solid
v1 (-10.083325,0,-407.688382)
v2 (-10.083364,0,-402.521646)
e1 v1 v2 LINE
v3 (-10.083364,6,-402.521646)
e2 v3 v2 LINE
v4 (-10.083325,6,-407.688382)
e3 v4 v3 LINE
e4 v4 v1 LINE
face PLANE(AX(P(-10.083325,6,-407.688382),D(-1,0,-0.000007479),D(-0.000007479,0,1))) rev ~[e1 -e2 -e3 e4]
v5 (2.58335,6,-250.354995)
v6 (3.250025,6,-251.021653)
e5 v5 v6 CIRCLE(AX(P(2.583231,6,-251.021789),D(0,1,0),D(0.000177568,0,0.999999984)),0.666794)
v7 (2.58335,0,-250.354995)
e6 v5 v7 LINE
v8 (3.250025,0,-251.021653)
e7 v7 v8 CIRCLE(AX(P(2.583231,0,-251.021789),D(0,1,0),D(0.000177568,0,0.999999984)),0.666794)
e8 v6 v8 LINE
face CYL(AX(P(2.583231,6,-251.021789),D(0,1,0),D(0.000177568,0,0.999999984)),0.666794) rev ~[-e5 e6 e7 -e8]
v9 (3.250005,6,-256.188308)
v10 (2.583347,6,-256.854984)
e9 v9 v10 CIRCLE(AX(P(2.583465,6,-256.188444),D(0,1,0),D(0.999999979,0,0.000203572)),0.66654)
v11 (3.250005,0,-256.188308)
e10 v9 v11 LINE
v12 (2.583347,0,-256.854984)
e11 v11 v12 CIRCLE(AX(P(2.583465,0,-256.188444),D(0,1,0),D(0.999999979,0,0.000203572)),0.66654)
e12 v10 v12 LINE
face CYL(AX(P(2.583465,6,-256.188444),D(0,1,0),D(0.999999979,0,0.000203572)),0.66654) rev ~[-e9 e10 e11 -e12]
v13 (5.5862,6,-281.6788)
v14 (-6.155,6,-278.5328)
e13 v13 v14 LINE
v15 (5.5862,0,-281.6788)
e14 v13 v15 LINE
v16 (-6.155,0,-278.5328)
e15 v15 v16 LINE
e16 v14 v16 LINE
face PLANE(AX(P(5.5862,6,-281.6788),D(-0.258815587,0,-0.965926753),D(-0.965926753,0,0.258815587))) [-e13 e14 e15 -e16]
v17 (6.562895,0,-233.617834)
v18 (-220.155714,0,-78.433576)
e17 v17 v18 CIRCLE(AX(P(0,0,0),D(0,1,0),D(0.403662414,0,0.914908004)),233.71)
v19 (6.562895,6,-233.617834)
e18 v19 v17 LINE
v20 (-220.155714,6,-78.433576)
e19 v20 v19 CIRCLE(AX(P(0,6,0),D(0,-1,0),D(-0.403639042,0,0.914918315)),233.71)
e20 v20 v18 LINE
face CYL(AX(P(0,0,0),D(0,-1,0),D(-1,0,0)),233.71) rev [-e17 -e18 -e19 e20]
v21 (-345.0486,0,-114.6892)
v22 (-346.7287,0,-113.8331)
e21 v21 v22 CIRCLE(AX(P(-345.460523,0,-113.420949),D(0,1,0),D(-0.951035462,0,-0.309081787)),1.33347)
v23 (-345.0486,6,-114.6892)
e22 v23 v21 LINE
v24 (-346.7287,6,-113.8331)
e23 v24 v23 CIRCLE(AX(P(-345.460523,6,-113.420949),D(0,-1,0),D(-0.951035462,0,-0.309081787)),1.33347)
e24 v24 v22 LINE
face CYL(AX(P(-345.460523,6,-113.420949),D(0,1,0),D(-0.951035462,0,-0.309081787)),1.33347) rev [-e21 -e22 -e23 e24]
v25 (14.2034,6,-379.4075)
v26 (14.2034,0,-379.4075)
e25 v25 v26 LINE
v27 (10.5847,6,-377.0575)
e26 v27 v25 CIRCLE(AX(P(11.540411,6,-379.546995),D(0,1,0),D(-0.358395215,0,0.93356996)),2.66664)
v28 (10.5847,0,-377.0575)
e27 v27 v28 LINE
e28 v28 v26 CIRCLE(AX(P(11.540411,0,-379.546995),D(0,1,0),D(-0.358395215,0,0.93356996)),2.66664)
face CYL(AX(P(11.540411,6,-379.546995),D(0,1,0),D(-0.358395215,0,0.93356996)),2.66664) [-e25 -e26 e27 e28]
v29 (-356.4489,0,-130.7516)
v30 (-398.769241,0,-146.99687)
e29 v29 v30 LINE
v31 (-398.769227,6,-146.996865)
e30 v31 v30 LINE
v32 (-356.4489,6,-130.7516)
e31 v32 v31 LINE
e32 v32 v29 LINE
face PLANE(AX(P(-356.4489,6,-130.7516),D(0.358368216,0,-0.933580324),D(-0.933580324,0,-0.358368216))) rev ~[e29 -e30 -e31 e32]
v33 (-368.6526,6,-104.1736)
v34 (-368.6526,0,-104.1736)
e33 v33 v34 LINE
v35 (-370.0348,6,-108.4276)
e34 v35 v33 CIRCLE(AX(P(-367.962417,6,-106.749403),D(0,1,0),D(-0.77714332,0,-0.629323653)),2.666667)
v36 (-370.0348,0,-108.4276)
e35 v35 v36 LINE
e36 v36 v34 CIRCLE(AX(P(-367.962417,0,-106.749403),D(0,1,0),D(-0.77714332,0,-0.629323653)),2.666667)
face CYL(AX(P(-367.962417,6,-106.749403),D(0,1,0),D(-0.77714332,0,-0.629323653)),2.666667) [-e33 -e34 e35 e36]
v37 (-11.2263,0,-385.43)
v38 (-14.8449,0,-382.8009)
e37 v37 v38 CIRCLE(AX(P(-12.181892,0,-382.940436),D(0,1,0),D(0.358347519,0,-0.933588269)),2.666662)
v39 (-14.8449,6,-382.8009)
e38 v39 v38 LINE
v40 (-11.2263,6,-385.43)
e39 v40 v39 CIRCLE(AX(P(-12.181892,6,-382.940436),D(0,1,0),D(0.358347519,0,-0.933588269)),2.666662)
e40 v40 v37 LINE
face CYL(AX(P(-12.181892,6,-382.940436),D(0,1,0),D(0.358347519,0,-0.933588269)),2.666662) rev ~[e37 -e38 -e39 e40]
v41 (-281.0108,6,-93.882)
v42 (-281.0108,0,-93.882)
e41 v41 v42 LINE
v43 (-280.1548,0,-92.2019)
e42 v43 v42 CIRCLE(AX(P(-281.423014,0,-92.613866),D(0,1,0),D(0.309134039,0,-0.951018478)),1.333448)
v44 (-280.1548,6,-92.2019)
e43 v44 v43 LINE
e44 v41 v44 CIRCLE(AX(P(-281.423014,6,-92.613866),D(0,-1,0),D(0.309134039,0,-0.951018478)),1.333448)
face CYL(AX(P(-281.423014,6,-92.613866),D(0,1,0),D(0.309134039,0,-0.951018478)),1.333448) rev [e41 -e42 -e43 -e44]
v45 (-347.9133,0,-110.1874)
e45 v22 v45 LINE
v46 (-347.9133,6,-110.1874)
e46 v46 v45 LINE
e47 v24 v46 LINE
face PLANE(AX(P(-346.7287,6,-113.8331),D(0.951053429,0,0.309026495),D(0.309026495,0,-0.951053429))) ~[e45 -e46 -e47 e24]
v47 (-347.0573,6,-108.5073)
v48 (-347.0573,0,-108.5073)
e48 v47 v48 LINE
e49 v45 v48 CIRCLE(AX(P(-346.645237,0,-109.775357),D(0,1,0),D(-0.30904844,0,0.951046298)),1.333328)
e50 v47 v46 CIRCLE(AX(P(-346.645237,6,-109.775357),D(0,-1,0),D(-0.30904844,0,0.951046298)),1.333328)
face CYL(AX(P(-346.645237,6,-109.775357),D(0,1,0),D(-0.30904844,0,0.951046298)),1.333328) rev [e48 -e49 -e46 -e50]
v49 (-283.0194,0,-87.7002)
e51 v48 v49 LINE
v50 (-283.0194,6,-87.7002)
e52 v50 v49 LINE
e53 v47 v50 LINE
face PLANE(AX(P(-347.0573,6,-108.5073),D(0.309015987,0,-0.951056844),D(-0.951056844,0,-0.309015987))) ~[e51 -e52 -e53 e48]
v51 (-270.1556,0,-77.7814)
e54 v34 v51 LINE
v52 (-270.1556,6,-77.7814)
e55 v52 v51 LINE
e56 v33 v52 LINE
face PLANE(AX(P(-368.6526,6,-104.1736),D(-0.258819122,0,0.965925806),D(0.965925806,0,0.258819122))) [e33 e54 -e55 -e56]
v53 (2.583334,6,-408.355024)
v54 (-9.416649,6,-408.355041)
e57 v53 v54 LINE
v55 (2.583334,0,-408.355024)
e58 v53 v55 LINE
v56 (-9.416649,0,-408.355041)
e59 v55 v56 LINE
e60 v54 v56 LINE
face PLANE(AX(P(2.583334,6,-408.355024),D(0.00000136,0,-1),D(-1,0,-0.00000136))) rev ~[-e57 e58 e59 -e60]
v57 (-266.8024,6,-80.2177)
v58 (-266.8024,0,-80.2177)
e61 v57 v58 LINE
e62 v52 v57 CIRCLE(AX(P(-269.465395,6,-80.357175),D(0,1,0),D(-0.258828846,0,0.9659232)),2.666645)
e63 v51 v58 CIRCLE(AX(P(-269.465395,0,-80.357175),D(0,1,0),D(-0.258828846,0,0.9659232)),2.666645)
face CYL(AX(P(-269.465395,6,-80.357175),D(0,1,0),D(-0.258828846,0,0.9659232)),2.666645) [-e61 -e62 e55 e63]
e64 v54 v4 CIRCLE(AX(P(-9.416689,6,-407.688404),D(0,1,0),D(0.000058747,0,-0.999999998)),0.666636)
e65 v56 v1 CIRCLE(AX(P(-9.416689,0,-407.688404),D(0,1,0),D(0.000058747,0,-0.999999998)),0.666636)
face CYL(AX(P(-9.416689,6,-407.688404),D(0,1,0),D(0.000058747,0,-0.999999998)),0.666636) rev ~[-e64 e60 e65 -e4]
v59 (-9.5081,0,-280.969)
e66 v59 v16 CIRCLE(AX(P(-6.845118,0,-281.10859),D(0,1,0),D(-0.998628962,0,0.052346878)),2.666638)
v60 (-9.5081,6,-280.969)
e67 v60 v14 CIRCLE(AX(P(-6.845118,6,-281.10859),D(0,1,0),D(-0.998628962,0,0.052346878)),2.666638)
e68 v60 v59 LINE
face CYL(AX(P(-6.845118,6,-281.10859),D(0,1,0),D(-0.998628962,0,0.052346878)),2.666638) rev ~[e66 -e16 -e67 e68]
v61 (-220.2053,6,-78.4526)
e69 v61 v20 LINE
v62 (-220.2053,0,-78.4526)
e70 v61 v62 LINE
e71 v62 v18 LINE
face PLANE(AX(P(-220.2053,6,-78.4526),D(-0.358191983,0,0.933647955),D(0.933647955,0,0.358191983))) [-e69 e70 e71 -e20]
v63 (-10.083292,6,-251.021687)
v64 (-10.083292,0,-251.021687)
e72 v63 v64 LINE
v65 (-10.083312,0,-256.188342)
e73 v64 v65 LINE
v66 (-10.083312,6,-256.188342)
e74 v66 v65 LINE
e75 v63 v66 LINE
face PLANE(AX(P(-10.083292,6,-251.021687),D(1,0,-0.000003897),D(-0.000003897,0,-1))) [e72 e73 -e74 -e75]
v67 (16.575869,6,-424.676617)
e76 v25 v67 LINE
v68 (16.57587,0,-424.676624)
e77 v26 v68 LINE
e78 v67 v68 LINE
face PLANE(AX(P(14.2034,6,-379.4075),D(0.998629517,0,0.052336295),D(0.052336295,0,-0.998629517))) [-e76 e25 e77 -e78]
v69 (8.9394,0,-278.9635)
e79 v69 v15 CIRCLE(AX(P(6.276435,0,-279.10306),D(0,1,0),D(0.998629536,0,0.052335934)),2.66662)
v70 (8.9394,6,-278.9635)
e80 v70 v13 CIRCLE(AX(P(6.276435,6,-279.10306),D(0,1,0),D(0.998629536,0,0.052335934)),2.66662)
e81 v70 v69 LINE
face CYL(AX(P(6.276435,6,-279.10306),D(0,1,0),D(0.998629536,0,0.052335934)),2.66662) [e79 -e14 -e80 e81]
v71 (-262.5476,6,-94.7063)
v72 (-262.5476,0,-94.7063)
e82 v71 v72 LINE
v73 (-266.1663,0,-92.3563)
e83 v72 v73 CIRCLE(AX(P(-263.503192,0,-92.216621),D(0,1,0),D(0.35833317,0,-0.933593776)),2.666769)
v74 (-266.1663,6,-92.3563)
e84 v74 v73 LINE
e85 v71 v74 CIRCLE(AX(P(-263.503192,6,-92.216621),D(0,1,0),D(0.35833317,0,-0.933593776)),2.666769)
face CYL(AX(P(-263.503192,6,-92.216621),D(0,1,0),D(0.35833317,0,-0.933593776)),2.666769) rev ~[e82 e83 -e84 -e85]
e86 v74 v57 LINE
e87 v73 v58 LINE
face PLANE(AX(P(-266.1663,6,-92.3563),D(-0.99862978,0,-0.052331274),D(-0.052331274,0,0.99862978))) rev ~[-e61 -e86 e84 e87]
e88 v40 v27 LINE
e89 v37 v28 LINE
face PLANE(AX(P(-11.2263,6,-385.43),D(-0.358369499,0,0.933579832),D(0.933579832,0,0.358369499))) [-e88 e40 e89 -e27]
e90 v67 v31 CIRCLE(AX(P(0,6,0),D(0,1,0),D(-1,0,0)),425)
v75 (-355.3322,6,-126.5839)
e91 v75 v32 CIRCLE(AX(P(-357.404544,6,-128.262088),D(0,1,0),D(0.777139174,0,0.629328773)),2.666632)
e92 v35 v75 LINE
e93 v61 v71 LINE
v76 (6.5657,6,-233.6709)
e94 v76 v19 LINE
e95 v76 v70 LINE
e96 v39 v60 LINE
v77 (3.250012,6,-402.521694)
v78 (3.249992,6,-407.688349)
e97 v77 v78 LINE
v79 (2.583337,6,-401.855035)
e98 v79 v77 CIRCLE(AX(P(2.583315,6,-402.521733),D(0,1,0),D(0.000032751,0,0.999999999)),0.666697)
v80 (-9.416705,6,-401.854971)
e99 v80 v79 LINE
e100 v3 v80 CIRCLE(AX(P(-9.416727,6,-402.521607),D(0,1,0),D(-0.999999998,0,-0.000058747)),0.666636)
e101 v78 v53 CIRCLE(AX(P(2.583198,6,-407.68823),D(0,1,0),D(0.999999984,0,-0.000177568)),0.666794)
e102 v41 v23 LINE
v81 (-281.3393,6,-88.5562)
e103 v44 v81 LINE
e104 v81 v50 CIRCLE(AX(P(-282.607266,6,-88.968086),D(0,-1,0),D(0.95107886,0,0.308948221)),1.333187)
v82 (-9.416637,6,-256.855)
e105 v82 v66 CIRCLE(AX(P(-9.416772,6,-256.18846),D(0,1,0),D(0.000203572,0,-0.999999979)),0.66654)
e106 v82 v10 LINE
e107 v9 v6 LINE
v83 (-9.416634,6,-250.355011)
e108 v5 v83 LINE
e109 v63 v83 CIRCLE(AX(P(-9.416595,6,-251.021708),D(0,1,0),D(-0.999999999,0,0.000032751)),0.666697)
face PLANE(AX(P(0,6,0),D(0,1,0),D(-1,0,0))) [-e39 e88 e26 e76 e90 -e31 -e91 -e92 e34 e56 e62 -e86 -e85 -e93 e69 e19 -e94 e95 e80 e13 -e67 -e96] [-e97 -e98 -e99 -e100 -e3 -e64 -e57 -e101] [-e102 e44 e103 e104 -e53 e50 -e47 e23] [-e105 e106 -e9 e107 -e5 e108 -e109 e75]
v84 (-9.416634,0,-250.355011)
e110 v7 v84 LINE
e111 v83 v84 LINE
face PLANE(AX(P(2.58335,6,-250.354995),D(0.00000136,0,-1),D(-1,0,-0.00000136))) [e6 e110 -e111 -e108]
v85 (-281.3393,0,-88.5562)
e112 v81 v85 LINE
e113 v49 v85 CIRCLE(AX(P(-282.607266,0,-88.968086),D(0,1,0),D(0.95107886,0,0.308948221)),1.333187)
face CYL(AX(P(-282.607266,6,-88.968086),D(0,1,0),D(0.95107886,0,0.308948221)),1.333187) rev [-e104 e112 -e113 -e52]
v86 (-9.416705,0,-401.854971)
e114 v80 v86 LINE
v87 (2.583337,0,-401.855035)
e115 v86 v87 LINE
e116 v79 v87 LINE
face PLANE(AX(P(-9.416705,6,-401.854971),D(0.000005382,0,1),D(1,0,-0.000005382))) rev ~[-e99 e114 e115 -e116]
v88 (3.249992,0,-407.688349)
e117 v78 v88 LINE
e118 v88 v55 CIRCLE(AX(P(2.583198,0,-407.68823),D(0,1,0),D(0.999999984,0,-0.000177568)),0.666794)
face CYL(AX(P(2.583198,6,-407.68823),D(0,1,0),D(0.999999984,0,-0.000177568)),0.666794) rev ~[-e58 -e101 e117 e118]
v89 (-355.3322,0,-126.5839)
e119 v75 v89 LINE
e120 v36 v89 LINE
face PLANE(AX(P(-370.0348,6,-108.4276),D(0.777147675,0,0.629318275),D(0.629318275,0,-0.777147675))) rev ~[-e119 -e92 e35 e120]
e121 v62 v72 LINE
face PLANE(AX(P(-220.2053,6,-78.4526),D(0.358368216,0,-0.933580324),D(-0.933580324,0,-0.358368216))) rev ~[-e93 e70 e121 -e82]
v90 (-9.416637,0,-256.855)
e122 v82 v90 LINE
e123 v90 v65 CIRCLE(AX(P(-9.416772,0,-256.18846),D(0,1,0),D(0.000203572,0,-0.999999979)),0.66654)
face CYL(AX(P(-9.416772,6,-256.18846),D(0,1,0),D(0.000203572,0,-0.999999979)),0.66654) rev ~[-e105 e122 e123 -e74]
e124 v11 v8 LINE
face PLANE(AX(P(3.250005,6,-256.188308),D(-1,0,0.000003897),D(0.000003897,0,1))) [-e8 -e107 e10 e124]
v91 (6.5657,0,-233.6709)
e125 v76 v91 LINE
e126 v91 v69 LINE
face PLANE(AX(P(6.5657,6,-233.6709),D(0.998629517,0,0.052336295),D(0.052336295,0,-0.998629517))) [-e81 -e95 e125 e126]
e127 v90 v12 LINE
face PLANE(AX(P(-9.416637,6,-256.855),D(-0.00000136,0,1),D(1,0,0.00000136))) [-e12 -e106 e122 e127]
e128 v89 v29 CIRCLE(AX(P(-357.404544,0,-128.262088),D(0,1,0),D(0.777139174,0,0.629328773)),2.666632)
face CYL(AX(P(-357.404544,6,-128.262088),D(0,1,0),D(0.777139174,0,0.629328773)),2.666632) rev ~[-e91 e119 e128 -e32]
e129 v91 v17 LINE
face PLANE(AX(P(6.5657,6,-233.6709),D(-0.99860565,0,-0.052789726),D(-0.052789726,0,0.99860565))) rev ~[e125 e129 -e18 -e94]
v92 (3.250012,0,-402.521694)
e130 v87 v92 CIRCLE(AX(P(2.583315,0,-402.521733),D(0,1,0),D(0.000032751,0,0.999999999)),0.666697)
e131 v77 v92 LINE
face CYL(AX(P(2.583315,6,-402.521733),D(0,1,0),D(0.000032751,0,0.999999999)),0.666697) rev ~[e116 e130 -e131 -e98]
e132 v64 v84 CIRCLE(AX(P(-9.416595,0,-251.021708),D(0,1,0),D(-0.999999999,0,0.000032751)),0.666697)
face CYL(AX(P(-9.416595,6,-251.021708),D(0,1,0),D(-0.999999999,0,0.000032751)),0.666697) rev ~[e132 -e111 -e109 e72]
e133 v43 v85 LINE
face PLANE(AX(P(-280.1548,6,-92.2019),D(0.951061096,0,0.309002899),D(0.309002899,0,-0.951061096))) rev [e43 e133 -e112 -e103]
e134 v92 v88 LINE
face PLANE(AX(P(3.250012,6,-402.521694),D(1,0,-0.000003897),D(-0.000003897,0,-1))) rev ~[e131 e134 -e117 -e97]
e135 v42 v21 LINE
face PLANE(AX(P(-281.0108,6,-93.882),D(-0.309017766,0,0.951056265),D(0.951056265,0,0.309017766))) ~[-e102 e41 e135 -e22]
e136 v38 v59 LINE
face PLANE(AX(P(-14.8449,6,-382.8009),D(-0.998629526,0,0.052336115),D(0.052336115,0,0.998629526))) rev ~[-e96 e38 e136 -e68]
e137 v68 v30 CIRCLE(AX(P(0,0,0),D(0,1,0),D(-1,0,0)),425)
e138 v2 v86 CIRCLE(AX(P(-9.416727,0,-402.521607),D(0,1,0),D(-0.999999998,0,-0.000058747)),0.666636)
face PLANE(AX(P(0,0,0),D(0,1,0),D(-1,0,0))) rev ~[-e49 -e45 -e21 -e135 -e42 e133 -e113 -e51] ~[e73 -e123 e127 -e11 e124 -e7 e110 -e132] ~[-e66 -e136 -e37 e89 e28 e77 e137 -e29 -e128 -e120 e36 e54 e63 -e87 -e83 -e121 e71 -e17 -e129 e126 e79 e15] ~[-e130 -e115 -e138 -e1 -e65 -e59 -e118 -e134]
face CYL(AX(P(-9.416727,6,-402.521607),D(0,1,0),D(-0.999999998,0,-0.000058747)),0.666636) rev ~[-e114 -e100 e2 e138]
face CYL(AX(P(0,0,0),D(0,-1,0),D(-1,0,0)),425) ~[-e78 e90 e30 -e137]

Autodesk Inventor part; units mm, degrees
ref_plane "YZ Plane" through (0, 0, 0) normal (1, 0, 0) x (0, 1, 0)
ref_plane "XZ Plane" through (0, 0, 0) normal (0, 1, 0) x (-1, 0, 0)
ref_plane "XY Plane" through (0, 0, 0) normal (0, 0, 1) x (1, 0, 0)
sketch "Sketch1" plane through (0, 0, 0) normal (0, 1, 0) x (-1, 0, 0)
  circle A0 centre (0, 0) radius 425
  circle A1 centre (0, 0) radius 233.71
  dimension "d84" = 467.42
  dimension "d85" = 850
extrude "Extrusion3" add sketch "Sketch1" along normal blind 6
sketch "Sketch2" plane through (0, 6, 0) normal (0, 1, 0) x (1, 0, 0)
  circle A0 centre (0, 0) radius 329.355 construction
  line L0 (3.25, 363.0217) -> (3.25, 295.6883)
  line L1 (-3.25, 295.6883) -> (-3.25, 363.0217)
  arc A1 (-3.25, 295.6883) -> (-1.9167, 294.355) centre (-1.9167, 295.6883) ccw
  arc A2 (1.9167, 294.355) -> (3.25, 295.6883) centre (1.9167, 295.6883) ccw
  arc A3 (-1.9167, 364.355) -> (-3.25, 363.0217) centre (-1.9167, 363.0217) ccw
  arc A4 (3.25, 363.0217) -> (1.9167, 364.355) centre (1.9167, 363.0217) ccw
  line L2 (-1.9167, 364.355) -> (1.9167, 364.355)
  line L3 (-1.9167, 294.355) -> (1.9167, 294.355)
  line L4 (0, 294.355) -> (0, 329.355) construction
  line L5 (0, 364.355) -> (0, 329.355) construction
  line L6 (0, 364.355) -> (0, 294.355) construction
  line L7 (175.0629, -238.5433) -> (171.9617, -240.7965)
  arc A5 (176.9253, -238.8383) -> (175.0629, -238.5433) centre (175.8467, -239.622) ccw
  arc A6 (171.9617, -240.7965) -> (171.6667, -242.6589) centre (172.7454, -241.8752) ccw
  line L8 (173.0175, -238.1382) -> (193.59, -266.4538) construction
  line L9 (211.2443, -297.1327) -> (171.6667, -242.6589)
  line L10 (176.9253, -238.8383) -> (216.5029, -293.3121)
  line L11 (214.1625, -294.7694) -> (173.0175, -238.1382) construction
  line L12 (214.1625, -294.7694) -> (193.59, -266.4538) construction
  arc A7 (211.2443, -297.1327) -> (213.1067, -297.4277) centre (212.323, -296.349) ccw
  line L13 (216.2079, -295.1745) -> (213.1067, -297.4277)
  arc A8 (216.2079, -295.1745) -> (216.5029, -293.3121) centre (215.4242, -294.0958) ccw
  line L14 (280.1548, 92.2019) -> (281.3393, 88.5562)
  arc A9 (281.0108, 93.882) -> (280.1548, 92.2019) centre (281.4229, 92.614) ccw
  arc A10 (281.3393, 88.5562) -> (283.0194, 87.7002) centre (282.6074, 88.9682) ccw
  line L15 (279.9482, 90.9607) -> (313.2352, 101.7763) construction
  line L16 (347.0573, 108.5073) -> (283.0194, 87.7002)
  line L17 (281.0108, 93.882) -> (345.0486, 114.6892)
  line L18 (346.5222, 112.5919) -> (279.9482, 90.9607) construction
  line L19 (346.5222, 112.5919) -> (313.2352, 101.7763) construction
  arc A11 (347.0573, 108.5073) -> (347.9133, 110.1874) centre (346.6452, 109.7754) ccw
  line L20 (346.7287, 113.8331) -> (347.9133, 110.1874)
  arc A12 (346.7287, 113.8331) -> (345.0486, 114.6892) centre (345.4607, 113.4211) ccw
  dimension "d86" = 658.71
  dimension "d21" = 6.5
  dimension "d24" = 2.6667
  dimension "d25" = 2.6667
  dimension "d32" = 1.3333
  dimension "d33" = 1.3333
  dimension "d162" = 70
  dimension "d163" = 294.355
  dimension "d165" = 3.25
extrude "Extrusion4" cut sketch "Sketch2" against normal through all
sketch "Sketch3" plane through (0, 6, 0) normal (0, 1, 0) x (1, 0, 0)
  arc A0 (-131.3389, -404.1968) -> (131.3445, -404.195) centre (0, 0) ccw
  arc A1 (-77.7244, -128.3741) -> (77.7297, -128.3709) centre (0, 0) ccw
  line L0 (-122.1811, -173.696) -> (-161.3589, -227.6196)
  line L1 (-131.3389, -404.1968) -> (-77.7244, -128.3741)
  line L2 (0, 0) -> (0, -341.2918)
  line L3 (131.3445, -404.195) -> (77.7297, -128.3709)
  line L4 (210.5535, -295.3313) -> (171.3679, -241.3969) projected
  dimension "d52" = 25
  dimension "d87" = 150.07
  dimension "d88" = 425
  dimension "d89" = 25
  dimension "d90" = 11
  dimension "d91" = 11
sketch "Sketch5" plane through (0, 6, 0) normal (0, 1, 0) x (1, 0, 0)
  line L0 (3.25, 363.0217) -> (3.25, 295.6883) projected
  line L1 (5.5862, 281.6788) -> (-6.155, 278.5328)
  line L2 (-11.2263, 385.43) -> (10.5847, 377.0575)
  line L3 (6.5657, 233.6709) -> (8.9394, 278.9635)
  line L4 (14.2034, 379.4075) -> (16.5771, 424.7001)
  arc A0 (10.5847, 377.0575) -> (14.2034, 379.4075) centre (11.5404, 379.5471) ccw
  arc A1 (8.9394, 278.9635) -> (5.5862, 281.6788) centre (6.2763, 279.103) ccw
  arc A2 (-11.2263, 385.43) -> (-14.8449, 382.8009) centre (-12.1819, 382.9405) ccw
  line L5 (-3.25, 295.6883) -> (-3.25, 363.0217) projected
  line L6 (-14.8449, 382.8009) -> (-9.5081, 280.969)
  arc A3 (-9.5081, 280.969) -> (-6.155, 278.5328) centre (-6.8451, 281.1086) ccw
  line L7 (-1.9167, 294.355) -> (1.9167, 294.355) projected
  line L8 (1.9167, 364.355) -> (-1.9167, 364.355) projected
  line L9 (16.5771, 424.7001) -> (16.5774, 424.7058)
  line L10 (6.5657, 233.6709) -> (6.5621, 233.6028)
  circle A4 centre (0, 0) radius 425
  circle A5 centre (0, 0) radius 233.71
  line L11 (-356.4489, 130.7516) -> (-398.7912, 147.0053)
  arc A6 (-355.3322, 126.5839) -> (-356.4489, 130.7516) centre (-357.4046, 128.2621) ccw
  line L12 (-370.0348, 108.4276) -> (-355.3322, 126.5839)
  arc A7 (-370.0348, 108.4276) -> (-368.6526, 104.1736) centre (-367.9624, 106.7494) ccw
  line L13 (-368.6526, 104.1736) -> (-270.1556, 77.7814)
  arc A8 (-270.1556, 77.7814) -> (-266.8024, 80.2177) centre (-269.4654, 80.3572) ccw
  line L14 (-266.1663, 92.3563) -> (-266.8024, 80.2177)
  arc A9 (-262.5476, 94.7063) -> (-266.1663, 92.3563) centre (-263.5032, 92.2167) ccw
  line L15 (-220.2053, 78.4526) -> (-262.5476, 94.7063)
  line L16 (-220.2053, 78.4526) -> (-220.1417, 78.4282)
  line L17 (-398.7912, 147.0053) -> (-398.7965, 147.0073)
  line L18 (-142.66, -185.1845) -> (-142.6172, -185.1316)
  line L19 (-263.0436, -333.8458) -> (-263.0472, -333.8502)
  line L20 (132.0366, -192.9029) -> (131.9995, -192.8458)
  line L21 (236.2213, -353.3334) -> (236.2244, -353.3381)
  line L22 (365.2271, 103.7351) -> (409.0364, 115.4738)
  arc A10 (361.8739, 106.4505) -> (365.2271, 103.7351) centre (364.5369, 106.3109) ccw
  line L23 (363.0966, 129.7812) -> (361.8739, 106.4505)
  arc A11 (363.0966, 129.7812) -> (359.478, 132.4103) centre (360.4336, 129.9208) ccw
  line L24 (359.478, 132.4103) -> (264.2793, 95.867)
  arc A12 (264.2793, 95.867) -> (262.9985, 91.9251) centre (265.2349, 93.3774) ccw
  line L25 (269.6187, 81.7308) -> (262.9985, 91.9251)
  arc A13 (268.0724, 77.7026) -> (269.6187, 81.7308) centre (267.3822, 80.2784) ccw
  line L26 (224.2631, 65.9639) -> (268.0724, 77.7026)
  line L27 (224.2631, 65.9639) -> (224.1973, 65.9463)
  line L28 (409.0364, 115.4738) -> (409.0419, 115.4753)
  line L29 (0, -233.71) -> (0, -425)
  arc A14 (131.3445, -404.195) -> (-131.3389, -404.1968) centre (0, 0) ccw projected
  point P0 (-425, 0)
  point P1 (-425, 0)
  point P2 (-398.7693, 146.9969)
  point P3 (-220.1557, 78.4336)
  point P4 (16.5759, 424.6766)
  point P5 (6.5629, 233.6178)
  dimension "d63" = 2.6667
  dimension "d64" = 3
  dimension "d66" = 3
  dimension "d67" = 2.6667
  dimension "d68" = 2.6667
  dimension "d70" = 72
  dimension "d71" = 72
sketch "Sketch6" plane through (0, 6, 0) normal (0, 1, 0) x (1, 0, 0)
  line L0 (237.9351, -331.8846) -> (247.6433, -324.8312)
  line L1 (243.8227, -319.5725) -> (234.1145, -326.626)
  line L2 (210.5535, -295.3313) -> (171.3679, -241.3969) projected
  line L3 (215.5172, -293.3731) -> (212.416, -295.6263) projected
  arc A0 (244.7539, -319.72) -> (243.8227, -319.5725) centre (244.2145, -320.1119) ccw
  arc A1 (247.6433, -324.8312) -> (247.7908, -323.9) centre (247.2514, -324.2918) ccw
  arc A2 (237.0039, -331.7371) -> (237.9351, -331.8846) centre (237.5432, -331.3452) ccw
  arc A3 (234.1145, -326.626) -> (233.967, -327.5572) centre (234.5063, -327.1653) ccw
  line L4 (233.967, -327.5572) -> (237.0039, -331.7371)
  line L5 (247.7908, -323.9) -> (244.7539, -319.72)
  line L6 (171.3679, -241.3969) -> (210.5535, -295.3313) projected
  line L7 (190.9607, -268.3641) -> (196.2193, -264.5435)
  line L8 (215.8122, -291.5107) -> (176.6265, -237.5763) projected
  line L9 (145.065, -204.0599) -> (154.7732, -197.0065)
  line L10 (158.5938, -202.2651) -> (148.8856, -209.3185)
  arc A4 (158.5938, -202.2651) -> (158.7413, -201.3339) centre (158.202, -201.7257) ccw
  arc A5 (155.7044, -197.154) -> (154.7732, -197.0065) centre (155.1651, -197.5458) ccw
  arc A6 (145.065, -204.0599) -> (144.9175, -204.9911) centre (145.4569, -204.5992) ccw
  arc A7 (147.9544, -209.171) -> (148.8856, -209.3185) centre (148.4938, -208.7792) ccw
  line L11 (147.9544, -209.171) -> (144.9175, -204.9911)
  line L12 (155.7044, -197.154) -> (158.7413, -201.3339)
  point P0 (0, 0)
  dimension "d104" = 6.5
  dimension "d105" = 12
  dimension "d108" = 1.3333
  dimension "d109" = 1.3333
  dimension "d110" = 1.3333
  dimension "d111" = 1.3333
  dimension "d112" = 0
  dimension "d149" = 145
  dimension "d150" = 90
  dimension "d151" = 90
  dimension "d152" = 90
  dimension "d153" = 90
extrude "Extrusion7" cut sketch "Sketch6" against normal through all
pattern_circular "Circular Pattern2" count 2 over 72 about axis through (0, -10, 0) along (0, 1, 0) of "Extrusion7"
pattern_circular "Circular Pattern3" count 2 over 144 about axis through (0, -10, 0) along (0, 1, 0) of "Extrusion7"
mirror "Mirror3" about plane through (0, 0, 0) normal (1, 0, 0) of "Extrusion7"
extrude "Extrusion10" cut sketch "Sketch3" against normal blind 10
mirror "Mirror4" about plane through (0, 0, 0) normal (1, 0, 0) of "Extrusion4"
pattern_circular "Circular Pattern4" count 2 over 144 about axis through (0, -10, 0) along (0, -1, 0) of "Extrusion7"
extrude "Extrusion11" cut sketch "Sketch5" against normal through all contours L1 A3 L6 A2 L2 A0 L4 A4 L22 A10 L23 A11 L24 A12 L25 A13 L26 L27 A5 L10 L3 A1 | L27 L26 A13 L25 A12 L24 A11 L23 A10 L22 A4 L29 A5 | A5 L29 A4 L11 A6 L12 A7 L13 A8 L14 A9 L15 L16
equation "\"BendRadius\" = Thickness"
equation "\"BendReliefWidth\" = Thickness"
equation "\"BendReliefDepth\" = 0.5 * Thickness"
equation "\"CornerReliefSize\" = 4 * Thickness"
equation "\"MinimumRemnant\" = 2 * Thickness"
equation "\"TransitionRadius\" = BendRadius"
equation "\"JacobiRadiusSize\" = BendRadius"
equation "\"GapSize\" = Thickness"
equation "\"Thickness\" = 0.5"
properties part number "Ring C2" material "Wood (Maple)"
